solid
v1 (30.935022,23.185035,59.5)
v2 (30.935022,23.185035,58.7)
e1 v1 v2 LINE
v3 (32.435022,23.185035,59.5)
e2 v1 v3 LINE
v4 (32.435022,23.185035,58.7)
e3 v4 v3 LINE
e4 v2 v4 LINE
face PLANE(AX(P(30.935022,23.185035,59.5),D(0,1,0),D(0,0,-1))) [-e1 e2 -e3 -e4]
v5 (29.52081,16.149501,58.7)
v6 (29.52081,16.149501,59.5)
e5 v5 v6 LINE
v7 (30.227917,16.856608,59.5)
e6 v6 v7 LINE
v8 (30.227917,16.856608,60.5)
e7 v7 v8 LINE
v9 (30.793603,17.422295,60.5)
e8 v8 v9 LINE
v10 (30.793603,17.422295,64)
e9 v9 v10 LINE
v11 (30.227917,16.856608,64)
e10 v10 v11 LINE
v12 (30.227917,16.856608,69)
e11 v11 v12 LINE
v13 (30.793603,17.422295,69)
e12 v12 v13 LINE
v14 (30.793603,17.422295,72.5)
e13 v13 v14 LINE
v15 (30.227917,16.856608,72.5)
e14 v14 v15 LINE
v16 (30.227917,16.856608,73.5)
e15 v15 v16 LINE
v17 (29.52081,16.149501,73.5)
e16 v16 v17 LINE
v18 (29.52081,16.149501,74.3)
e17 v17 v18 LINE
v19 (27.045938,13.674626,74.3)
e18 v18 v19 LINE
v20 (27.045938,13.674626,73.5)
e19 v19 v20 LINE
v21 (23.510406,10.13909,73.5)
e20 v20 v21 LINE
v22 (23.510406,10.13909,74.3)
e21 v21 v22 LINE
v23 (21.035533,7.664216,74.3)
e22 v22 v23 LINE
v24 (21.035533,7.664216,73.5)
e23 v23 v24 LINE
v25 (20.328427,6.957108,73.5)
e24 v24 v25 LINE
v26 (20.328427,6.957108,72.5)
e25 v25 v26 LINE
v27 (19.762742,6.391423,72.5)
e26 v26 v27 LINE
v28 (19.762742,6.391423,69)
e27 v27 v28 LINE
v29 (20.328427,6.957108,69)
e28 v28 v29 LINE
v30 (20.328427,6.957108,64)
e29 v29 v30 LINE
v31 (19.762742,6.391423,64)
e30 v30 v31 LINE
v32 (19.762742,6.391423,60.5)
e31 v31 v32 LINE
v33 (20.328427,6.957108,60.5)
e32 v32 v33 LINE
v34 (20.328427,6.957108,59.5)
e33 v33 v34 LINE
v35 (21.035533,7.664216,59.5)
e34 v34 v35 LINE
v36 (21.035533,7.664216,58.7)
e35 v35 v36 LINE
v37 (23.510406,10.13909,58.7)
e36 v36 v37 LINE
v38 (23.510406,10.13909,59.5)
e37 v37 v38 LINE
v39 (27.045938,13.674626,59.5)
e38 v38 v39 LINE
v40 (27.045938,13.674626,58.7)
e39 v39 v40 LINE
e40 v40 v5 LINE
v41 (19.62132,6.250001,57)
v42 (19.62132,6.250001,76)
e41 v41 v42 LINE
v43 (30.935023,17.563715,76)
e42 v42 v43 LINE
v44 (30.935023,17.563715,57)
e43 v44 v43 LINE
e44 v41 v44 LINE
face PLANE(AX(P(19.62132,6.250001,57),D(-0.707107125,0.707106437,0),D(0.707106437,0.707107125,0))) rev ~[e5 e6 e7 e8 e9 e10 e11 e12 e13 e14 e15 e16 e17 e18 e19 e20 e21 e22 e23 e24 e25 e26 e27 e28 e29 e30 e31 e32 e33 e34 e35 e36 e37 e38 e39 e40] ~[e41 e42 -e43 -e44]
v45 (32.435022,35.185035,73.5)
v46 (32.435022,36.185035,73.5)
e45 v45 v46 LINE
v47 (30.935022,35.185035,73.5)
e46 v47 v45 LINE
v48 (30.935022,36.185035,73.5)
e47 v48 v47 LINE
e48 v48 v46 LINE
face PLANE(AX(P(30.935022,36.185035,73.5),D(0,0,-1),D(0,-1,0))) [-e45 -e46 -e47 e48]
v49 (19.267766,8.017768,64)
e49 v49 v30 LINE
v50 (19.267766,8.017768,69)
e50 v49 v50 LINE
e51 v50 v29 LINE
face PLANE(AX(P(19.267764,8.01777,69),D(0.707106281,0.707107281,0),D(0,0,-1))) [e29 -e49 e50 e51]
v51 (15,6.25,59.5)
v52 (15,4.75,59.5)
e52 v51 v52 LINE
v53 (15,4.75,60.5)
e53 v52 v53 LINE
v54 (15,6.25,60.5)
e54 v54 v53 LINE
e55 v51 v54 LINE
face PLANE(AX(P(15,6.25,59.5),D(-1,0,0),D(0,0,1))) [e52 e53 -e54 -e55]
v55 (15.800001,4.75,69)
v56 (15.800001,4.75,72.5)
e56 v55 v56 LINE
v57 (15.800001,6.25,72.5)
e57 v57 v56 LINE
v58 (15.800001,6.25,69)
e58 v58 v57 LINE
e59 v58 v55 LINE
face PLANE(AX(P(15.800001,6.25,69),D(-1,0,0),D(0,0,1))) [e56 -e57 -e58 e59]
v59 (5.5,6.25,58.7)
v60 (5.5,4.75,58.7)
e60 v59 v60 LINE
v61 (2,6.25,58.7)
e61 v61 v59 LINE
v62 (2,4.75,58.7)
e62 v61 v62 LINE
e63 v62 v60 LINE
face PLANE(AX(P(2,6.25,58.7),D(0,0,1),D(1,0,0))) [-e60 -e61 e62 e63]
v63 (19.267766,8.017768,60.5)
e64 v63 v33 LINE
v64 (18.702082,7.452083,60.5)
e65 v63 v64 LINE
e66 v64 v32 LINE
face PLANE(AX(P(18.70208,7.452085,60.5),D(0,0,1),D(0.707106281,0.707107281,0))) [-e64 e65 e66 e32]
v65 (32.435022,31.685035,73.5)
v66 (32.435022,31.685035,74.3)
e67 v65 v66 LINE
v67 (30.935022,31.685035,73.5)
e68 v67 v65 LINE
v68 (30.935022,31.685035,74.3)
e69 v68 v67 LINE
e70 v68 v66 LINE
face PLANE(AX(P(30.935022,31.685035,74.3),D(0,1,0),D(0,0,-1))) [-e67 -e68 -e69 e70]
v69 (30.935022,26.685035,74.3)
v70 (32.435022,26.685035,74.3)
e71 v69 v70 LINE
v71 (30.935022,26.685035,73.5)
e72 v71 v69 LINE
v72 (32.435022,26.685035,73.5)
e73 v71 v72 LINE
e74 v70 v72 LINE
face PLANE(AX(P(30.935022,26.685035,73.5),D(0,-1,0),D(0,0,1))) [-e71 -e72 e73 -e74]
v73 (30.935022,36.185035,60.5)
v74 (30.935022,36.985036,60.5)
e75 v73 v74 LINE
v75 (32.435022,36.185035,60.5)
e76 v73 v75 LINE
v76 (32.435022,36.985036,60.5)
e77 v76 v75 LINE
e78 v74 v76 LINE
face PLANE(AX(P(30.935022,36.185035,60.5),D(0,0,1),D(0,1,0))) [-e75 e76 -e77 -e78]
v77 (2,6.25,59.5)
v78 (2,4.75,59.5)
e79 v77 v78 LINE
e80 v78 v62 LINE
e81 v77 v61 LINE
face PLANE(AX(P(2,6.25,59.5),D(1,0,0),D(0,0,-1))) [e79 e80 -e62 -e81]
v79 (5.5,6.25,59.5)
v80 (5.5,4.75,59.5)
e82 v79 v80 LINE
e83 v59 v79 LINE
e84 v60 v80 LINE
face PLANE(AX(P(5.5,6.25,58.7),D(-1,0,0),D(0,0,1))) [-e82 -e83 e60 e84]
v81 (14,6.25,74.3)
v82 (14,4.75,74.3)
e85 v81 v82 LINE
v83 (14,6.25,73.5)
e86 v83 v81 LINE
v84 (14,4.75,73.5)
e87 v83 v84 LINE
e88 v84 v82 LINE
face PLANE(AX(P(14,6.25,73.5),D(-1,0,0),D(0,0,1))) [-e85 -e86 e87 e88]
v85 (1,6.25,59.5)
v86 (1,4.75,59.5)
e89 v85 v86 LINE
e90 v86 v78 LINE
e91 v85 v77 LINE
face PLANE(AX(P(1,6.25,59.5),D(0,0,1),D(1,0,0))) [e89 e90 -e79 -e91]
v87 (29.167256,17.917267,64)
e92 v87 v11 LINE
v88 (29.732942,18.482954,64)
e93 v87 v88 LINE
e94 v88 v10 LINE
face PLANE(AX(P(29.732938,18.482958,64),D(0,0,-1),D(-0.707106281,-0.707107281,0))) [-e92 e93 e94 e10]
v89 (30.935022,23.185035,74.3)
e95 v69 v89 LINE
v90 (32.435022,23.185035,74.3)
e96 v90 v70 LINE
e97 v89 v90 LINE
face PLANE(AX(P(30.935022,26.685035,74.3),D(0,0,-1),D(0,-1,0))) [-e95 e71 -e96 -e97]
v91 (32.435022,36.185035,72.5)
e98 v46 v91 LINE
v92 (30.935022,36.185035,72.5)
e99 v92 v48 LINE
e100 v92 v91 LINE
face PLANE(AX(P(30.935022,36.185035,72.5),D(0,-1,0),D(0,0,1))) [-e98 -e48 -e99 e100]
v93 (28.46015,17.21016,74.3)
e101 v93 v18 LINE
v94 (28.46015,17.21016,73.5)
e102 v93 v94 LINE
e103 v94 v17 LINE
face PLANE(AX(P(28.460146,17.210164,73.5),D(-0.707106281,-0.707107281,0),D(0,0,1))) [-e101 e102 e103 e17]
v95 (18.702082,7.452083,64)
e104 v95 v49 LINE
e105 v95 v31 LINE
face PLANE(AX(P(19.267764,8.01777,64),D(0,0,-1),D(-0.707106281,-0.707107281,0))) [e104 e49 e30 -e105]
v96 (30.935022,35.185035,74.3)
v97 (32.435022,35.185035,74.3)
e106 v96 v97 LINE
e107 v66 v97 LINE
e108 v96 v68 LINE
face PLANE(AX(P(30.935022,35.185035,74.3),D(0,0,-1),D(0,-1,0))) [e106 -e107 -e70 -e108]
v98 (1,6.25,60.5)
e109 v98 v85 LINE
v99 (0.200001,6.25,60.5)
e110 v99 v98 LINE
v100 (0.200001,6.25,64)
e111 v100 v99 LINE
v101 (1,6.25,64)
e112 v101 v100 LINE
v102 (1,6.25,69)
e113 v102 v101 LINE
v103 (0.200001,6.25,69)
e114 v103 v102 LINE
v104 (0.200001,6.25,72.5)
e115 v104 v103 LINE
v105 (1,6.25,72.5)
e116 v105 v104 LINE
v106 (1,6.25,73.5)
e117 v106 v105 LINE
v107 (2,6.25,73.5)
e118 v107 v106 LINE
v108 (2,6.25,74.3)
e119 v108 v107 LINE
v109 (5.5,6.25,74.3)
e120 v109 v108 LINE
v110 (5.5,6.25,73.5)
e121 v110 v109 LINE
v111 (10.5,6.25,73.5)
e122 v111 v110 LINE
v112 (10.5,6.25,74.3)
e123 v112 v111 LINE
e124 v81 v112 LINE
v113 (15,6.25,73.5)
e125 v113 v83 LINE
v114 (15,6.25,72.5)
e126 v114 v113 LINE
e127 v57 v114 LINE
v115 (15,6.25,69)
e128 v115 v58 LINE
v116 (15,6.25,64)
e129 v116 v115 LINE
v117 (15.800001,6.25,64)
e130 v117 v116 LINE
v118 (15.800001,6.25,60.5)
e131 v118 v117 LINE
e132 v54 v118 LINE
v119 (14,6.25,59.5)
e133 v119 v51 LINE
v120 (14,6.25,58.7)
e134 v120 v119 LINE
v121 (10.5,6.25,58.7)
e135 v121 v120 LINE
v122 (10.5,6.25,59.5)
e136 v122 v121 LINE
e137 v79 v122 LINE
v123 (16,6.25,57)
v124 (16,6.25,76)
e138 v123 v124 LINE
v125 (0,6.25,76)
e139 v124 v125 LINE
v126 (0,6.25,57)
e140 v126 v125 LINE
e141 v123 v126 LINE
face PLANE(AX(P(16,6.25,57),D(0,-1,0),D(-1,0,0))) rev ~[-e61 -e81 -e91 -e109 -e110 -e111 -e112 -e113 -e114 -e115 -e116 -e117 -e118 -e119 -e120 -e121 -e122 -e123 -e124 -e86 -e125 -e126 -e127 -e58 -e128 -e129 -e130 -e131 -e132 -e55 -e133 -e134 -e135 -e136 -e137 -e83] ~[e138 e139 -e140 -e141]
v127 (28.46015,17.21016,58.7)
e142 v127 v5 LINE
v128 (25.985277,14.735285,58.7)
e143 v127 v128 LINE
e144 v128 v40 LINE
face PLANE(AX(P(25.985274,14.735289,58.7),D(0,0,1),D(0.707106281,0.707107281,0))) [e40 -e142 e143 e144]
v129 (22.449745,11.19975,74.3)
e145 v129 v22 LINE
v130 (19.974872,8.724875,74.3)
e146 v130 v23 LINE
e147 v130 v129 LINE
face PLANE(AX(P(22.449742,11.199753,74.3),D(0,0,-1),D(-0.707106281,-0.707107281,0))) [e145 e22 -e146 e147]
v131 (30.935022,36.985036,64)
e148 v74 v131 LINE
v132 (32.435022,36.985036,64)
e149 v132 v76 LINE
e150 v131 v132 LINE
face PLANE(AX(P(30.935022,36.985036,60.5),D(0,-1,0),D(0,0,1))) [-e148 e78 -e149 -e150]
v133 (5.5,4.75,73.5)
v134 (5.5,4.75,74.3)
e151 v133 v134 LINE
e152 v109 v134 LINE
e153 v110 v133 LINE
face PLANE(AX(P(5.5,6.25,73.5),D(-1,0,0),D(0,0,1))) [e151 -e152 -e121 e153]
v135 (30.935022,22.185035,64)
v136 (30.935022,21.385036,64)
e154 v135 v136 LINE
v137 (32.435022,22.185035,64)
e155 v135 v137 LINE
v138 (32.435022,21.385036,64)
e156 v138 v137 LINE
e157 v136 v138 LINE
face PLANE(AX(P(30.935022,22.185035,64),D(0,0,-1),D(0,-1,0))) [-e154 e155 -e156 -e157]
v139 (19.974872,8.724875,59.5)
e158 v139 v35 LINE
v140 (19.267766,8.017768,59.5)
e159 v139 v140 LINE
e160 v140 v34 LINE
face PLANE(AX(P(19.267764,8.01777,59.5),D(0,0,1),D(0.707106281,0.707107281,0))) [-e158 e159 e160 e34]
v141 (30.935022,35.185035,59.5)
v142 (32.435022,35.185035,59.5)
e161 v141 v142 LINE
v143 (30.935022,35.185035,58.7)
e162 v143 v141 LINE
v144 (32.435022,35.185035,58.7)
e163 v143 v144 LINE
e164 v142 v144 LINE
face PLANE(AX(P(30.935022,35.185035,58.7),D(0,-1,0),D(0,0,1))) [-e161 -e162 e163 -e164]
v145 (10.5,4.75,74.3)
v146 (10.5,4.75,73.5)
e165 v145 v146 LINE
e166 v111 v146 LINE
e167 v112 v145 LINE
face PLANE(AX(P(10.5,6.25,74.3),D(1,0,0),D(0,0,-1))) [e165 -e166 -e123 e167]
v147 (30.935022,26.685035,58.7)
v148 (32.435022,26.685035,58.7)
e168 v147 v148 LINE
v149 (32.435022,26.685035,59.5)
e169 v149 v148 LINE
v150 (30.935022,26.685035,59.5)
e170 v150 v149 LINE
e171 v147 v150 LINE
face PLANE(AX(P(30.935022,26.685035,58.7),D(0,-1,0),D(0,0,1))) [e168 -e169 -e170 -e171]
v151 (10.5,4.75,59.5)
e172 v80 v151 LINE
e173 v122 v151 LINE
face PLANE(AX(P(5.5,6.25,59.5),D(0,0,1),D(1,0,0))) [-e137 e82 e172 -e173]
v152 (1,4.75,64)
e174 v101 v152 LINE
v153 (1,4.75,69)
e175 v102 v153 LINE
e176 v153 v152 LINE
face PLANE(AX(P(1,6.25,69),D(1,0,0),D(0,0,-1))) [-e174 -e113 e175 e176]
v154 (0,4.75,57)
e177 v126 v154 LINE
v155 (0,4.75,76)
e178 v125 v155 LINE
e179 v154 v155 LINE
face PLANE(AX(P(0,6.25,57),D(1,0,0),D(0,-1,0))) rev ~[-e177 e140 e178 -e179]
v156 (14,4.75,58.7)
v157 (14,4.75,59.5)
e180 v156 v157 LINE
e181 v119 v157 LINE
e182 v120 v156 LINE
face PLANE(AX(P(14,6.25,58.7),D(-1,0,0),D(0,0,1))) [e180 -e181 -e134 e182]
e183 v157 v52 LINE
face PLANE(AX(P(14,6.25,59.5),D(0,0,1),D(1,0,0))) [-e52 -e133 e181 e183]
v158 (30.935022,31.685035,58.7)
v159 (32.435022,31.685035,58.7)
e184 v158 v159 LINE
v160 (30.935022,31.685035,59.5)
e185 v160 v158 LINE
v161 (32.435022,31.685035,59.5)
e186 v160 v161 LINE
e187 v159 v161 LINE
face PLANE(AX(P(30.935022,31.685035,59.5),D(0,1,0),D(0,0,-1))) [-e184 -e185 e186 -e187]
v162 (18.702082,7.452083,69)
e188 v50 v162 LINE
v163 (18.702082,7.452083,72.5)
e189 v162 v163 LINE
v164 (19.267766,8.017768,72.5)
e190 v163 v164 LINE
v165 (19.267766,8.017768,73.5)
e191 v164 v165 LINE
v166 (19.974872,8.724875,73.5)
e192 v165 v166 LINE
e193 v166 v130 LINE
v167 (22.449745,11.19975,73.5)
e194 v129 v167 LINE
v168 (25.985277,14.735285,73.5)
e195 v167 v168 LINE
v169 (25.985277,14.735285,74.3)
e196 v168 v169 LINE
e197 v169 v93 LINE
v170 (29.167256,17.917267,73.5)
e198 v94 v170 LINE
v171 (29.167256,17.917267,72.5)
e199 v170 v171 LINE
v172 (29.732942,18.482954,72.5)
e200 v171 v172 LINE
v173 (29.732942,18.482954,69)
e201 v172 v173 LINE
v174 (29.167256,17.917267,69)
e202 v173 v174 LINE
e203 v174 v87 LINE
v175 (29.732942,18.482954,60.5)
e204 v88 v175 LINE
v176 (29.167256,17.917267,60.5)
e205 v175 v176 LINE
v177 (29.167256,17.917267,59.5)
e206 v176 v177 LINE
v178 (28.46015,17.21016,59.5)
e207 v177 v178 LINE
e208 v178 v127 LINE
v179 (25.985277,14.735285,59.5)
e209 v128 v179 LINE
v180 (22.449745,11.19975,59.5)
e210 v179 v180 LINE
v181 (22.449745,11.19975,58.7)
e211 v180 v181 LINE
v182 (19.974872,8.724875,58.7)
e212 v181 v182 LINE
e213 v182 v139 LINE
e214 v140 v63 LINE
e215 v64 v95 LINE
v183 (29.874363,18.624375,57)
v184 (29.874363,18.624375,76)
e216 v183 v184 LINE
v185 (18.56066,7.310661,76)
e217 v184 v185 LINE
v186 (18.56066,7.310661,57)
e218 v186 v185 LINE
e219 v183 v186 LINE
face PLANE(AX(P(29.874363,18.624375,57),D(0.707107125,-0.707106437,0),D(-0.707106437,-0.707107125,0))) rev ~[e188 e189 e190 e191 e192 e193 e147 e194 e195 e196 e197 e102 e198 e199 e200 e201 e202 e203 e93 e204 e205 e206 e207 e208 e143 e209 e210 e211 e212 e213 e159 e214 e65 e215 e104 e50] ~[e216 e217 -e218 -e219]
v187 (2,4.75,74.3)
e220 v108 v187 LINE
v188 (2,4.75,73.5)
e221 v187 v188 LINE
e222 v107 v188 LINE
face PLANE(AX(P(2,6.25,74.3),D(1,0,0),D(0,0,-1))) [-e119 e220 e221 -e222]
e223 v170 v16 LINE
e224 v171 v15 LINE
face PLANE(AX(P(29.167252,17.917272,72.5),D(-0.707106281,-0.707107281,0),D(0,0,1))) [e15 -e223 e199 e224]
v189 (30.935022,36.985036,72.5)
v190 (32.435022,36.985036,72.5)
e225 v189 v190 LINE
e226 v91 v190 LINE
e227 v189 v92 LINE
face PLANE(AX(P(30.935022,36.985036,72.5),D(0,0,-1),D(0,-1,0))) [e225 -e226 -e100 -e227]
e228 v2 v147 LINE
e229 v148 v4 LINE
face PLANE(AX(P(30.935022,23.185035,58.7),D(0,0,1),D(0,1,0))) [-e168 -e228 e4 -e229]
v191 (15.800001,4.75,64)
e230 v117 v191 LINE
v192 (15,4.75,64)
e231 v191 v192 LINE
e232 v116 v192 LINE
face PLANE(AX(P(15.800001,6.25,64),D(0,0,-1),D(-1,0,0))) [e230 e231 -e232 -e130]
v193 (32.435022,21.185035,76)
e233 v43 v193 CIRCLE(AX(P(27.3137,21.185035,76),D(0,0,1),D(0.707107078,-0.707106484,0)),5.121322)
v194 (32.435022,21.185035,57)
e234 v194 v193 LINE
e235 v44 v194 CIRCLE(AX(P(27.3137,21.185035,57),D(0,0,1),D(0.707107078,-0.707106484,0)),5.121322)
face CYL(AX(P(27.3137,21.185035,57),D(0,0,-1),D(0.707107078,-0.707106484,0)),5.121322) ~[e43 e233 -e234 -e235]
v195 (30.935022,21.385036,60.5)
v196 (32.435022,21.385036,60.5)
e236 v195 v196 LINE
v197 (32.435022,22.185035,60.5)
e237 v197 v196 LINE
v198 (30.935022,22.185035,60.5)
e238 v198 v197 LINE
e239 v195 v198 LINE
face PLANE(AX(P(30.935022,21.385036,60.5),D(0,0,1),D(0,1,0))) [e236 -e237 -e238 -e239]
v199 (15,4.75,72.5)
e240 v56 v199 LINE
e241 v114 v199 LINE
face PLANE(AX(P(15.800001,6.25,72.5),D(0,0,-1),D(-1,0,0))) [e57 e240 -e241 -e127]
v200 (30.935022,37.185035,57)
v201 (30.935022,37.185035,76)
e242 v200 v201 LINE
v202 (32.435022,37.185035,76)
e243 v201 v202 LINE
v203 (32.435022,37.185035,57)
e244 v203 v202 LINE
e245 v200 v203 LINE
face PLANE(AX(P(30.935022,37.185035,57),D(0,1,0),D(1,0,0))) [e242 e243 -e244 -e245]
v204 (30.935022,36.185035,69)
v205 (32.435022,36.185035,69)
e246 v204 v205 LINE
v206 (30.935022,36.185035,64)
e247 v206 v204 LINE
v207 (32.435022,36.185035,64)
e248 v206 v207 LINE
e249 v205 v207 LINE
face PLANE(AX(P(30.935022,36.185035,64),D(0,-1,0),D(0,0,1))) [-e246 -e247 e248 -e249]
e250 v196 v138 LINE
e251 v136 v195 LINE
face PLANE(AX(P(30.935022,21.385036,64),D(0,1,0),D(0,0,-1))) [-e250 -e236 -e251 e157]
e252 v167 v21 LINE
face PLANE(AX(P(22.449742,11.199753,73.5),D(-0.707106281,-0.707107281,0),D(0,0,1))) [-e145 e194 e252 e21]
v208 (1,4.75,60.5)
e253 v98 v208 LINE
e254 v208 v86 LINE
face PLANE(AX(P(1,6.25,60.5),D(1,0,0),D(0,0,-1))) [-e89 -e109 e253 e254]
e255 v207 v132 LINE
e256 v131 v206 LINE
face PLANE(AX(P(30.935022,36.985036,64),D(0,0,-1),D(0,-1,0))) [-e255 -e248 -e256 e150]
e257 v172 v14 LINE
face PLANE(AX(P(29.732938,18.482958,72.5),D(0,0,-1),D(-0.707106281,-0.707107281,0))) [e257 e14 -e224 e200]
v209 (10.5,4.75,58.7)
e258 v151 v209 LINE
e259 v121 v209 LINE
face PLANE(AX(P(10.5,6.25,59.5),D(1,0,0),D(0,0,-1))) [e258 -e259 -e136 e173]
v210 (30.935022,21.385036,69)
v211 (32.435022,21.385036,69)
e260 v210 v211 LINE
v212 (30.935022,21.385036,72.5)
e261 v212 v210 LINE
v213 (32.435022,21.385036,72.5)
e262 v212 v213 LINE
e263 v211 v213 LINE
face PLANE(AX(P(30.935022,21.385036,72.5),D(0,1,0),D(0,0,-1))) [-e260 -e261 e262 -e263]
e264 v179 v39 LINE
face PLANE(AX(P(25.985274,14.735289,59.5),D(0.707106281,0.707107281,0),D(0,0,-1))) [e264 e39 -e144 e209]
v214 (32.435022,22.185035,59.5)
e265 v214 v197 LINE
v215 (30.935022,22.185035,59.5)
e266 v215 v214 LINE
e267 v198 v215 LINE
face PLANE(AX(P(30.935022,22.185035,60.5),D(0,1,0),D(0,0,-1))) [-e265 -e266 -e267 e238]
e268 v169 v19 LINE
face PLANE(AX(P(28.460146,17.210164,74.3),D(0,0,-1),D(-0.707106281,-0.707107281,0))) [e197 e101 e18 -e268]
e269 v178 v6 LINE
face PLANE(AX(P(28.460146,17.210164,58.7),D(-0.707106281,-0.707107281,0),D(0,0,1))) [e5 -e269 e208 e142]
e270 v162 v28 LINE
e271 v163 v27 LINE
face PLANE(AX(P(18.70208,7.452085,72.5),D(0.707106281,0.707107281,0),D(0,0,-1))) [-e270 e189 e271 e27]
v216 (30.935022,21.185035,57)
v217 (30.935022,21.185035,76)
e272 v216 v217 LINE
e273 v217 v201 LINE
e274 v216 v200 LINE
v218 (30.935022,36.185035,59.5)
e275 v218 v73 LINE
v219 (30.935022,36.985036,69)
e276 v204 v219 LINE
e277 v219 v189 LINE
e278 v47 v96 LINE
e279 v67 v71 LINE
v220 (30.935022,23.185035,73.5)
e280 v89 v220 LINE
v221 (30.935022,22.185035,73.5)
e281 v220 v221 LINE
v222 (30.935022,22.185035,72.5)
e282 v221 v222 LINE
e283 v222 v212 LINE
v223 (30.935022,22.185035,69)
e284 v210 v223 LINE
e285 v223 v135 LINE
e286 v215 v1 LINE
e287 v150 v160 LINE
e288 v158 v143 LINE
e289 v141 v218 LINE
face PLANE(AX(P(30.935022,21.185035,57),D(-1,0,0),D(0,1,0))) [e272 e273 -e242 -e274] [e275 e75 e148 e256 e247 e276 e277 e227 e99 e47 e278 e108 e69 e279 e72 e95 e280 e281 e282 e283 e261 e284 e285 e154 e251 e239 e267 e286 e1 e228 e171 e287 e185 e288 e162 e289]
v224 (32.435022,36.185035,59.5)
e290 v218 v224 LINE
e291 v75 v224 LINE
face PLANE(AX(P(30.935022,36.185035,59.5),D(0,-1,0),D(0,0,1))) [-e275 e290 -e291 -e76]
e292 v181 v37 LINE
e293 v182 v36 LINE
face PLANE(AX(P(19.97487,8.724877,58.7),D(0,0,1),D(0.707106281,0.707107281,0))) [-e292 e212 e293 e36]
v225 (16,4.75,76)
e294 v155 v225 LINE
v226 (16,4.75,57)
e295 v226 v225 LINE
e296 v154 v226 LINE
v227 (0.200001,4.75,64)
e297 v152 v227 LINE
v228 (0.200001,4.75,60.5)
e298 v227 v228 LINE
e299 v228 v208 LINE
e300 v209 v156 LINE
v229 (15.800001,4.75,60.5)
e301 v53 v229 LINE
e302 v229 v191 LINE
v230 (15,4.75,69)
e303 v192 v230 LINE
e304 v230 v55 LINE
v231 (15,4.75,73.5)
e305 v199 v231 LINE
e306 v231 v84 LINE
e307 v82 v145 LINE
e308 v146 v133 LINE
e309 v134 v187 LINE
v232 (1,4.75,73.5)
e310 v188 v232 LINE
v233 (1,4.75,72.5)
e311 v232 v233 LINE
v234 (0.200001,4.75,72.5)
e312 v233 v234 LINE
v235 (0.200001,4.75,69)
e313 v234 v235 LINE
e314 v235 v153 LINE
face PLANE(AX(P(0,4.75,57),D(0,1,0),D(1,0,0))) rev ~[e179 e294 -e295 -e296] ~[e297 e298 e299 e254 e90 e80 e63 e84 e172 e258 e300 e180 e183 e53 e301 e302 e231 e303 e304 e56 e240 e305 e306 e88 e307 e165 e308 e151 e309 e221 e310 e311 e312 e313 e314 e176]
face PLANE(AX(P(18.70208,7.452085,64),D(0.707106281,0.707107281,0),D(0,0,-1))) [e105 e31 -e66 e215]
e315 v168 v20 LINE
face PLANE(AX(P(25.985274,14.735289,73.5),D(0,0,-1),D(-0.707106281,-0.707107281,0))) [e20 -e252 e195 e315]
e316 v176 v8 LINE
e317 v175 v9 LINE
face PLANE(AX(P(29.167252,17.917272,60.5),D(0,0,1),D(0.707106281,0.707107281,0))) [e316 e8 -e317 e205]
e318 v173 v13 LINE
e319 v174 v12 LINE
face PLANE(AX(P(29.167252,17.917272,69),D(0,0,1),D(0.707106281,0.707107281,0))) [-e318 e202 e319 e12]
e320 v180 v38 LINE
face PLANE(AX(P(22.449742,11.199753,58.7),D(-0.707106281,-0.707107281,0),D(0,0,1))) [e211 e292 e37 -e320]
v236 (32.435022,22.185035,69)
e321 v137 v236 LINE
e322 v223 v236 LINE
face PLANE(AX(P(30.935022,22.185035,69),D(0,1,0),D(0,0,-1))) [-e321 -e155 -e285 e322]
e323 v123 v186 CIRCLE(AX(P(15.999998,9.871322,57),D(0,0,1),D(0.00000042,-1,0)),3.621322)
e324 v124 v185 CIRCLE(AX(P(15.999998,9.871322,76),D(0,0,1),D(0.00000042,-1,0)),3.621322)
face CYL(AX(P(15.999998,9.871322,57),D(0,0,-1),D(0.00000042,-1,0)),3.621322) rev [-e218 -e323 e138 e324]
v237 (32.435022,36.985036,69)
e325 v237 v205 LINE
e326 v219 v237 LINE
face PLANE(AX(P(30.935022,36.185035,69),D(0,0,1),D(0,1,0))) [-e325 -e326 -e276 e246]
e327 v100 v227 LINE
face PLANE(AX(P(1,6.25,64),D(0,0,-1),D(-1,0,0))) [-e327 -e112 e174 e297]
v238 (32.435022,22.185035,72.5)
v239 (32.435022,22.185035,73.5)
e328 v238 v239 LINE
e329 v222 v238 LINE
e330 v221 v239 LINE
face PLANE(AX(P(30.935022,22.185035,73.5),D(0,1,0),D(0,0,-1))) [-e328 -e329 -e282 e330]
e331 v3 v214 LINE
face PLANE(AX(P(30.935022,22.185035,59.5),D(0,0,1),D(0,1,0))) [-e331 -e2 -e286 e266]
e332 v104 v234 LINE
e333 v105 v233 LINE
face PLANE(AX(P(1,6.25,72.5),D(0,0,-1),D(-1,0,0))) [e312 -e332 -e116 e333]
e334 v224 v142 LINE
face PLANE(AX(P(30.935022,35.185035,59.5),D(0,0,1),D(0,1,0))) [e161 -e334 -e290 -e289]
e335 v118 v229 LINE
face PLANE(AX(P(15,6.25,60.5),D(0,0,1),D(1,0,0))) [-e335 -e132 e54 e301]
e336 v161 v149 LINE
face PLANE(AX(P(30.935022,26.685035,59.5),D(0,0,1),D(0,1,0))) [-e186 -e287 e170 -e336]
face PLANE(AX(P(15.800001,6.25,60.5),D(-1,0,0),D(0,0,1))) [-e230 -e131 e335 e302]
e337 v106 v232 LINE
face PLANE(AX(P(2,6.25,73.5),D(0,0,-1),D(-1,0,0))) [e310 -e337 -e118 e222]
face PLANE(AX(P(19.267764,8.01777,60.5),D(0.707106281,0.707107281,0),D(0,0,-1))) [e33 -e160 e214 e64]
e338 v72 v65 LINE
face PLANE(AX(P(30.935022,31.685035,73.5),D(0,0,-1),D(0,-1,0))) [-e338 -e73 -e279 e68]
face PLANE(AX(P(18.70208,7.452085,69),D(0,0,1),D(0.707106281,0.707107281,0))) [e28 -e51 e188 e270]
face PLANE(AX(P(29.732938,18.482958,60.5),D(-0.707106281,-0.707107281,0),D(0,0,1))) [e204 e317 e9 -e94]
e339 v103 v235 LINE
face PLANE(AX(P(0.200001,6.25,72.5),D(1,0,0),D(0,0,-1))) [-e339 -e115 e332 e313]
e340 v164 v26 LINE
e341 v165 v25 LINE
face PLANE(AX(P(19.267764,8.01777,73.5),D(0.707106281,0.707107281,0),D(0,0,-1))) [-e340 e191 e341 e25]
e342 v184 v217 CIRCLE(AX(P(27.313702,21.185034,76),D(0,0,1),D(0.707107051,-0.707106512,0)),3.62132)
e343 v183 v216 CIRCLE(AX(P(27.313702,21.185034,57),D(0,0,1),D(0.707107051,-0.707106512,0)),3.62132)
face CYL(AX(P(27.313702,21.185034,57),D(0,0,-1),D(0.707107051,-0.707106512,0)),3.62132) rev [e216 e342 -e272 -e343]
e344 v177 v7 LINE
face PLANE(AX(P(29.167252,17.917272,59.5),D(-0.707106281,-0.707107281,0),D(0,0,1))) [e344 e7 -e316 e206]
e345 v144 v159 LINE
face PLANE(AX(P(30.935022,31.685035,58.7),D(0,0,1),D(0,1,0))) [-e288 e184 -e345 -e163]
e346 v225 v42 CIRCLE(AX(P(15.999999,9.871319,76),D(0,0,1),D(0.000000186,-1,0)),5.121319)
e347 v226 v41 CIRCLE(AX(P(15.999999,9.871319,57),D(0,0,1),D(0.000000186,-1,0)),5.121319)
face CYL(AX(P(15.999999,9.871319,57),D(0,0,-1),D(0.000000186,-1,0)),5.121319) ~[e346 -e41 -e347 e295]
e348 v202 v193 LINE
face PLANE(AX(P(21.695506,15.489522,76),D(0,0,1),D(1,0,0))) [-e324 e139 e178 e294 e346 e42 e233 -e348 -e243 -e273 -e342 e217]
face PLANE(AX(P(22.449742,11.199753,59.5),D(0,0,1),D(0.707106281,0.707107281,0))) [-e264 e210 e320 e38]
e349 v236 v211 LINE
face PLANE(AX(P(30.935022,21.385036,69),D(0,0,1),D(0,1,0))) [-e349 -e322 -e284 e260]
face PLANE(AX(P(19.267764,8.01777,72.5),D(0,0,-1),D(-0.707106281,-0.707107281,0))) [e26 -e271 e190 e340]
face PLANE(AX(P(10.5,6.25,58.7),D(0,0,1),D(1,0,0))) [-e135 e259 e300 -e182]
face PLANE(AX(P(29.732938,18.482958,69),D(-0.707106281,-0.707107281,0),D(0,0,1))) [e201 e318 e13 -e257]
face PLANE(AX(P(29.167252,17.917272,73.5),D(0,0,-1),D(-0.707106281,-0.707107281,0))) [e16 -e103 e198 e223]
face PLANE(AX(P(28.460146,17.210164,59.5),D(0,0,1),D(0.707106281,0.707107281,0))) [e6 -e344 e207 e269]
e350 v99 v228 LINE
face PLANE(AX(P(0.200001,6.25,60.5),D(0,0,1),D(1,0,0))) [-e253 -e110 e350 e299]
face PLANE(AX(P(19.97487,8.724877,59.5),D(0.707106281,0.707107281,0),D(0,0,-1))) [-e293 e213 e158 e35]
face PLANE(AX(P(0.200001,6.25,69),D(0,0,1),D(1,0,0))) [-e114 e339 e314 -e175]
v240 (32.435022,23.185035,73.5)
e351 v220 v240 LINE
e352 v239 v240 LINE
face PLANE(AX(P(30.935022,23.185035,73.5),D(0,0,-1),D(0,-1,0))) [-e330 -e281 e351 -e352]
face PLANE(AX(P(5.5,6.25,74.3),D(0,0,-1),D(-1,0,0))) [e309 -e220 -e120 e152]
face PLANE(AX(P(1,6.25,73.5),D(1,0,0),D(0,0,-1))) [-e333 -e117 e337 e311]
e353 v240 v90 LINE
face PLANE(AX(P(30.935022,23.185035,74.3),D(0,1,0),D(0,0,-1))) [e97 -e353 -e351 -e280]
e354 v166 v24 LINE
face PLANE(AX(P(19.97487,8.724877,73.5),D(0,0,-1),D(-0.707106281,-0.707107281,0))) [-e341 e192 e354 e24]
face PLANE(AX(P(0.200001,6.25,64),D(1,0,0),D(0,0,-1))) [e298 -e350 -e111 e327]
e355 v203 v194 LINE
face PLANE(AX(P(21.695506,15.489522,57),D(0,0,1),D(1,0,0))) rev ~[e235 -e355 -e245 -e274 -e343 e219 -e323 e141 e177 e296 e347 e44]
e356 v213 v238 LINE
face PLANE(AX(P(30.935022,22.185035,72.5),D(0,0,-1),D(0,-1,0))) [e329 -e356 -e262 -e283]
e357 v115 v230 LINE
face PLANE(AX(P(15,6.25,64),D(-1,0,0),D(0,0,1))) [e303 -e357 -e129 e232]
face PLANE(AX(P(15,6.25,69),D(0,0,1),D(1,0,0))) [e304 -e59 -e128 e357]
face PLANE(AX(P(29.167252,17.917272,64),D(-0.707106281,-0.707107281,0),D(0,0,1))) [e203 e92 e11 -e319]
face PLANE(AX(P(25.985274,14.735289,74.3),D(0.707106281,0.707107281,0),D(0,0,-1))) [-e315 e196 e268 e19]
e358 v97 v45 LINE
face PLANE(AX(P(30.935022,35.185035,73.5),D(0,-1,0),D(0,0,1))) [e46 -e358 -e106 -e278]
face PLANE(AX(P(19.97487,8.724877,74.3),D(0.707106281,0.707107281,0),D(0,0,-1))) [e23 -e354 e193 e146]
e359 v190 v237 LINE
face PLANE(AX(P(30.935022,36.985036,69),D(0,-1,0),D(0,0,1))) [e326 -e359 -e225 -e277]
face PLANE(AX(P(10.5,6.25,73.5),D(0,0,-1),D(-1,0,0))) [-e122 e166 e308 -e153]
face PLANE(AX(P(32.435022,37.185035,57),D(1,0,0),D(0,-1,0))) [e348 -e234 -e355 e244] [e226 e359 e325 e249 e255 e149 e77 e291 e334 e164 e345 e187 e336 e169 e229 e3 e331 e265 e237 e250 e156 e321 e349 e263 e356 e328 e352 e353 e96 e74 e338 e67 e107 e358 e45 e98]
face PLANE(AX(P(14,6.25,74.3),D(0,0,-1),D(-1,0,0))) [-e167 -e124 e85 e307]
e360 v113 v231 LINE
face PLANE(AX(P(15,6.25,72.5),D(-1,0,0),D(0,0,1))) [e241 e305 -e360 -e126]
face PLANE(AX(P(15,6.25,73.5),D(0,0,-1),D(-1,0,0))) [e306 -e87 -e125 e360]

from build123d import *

# Parameters (mm, degrees)
PAD_DEPTH       = 19
POCKET_DEPTH    = 11.62232
POCKET002_DEPTH = 1.501
POCKET003_DEPTH = 1.501


with BuildPart() as part:
    # Sketch → Pad (new body)
    with BuildSketch(Plane.XY):
        with BuildLine():
            Line((0, 0), (16, 0))
            ThreePointArc((16, 0), (17.959845, 0.389838), (19.62132, 1.500001))
            Line((19.62132, 1.500001), (30.935023, 12.813715))
            ThreePointArc((30.935023, 12.813715), (32.045185, 14.475191), (32.435022, 16.435035))
            Line((32.435022, 32.435035), (32.435022, 16.435035))
            Line((30.935022, 32.435035), (32.435022, 32.435035))
            Line((30.935022, 16.435035), (30.935022, 32.435035))
            ThreePointArc((29.874363, 13.874375), (30.659366, 15.049216), (30.935022, 16.435035))
            Line((29.874363, 13.874375), (18.56066, 2.560661))
            ThreePointArc((16, 1.5), (17.385819, 1.775657), (18.56066, 2.560661))
            Line((16, 1.5), (0, 1.5))
            Line((0, 1.5), (0, 0))
        make_face()
    extrude(amount=PAD_DEPTH)

    # Sketch004 → Pocket (cut, through all)
    with BuildSketch(Plane(origin=(8.000009, -8.000001, 0), x_dir=(-0.707106, -0.707107, 0), z_dir=(-0.707107, 0.707106, 0))):
        Polygon((-28.935023, 17.3), (-25.435023, 17.3), (-25.435023, 16.5), (-20.435023, 16.5), (-20.435023, 17.3), (-16.935023, 17.3), (-16.935023, 16.5), (-15.935023, 16.5), (-15.935023, 15.5), (-15.135024, 15.5), (-15.135024, 12), (-15.935023, 12), (-15.935023, 7), (-15.135024, 7), (-15.135024, 3.5), (-15.935023, 3.5), (-15.935023, 2.5), (-16.935023, 2.5), (-16.935023, 1.7), (-20.435023, 1.7), (-20.435023, 2.5), (-25.435023, 2.5), (-25.435023, 1.7), (-28.935023, 1.7), (-28.935023, 2.5), (-29.935023, 2.5), (-29.935023, 3.5), (-30.735024, 3.5), (-30.735024, 7), (-29.935023, 7), (-29.935023, 12), (-30.735024, 12), (-30.735024, 15.5), (-29.935023, 15.5), (-29.935023, 16.5), (-28.935023, 16.5), align=None)
    extrude(amount=-POCKET_DEPTH, mode=Mode.SUBTRACT)

    # Sketch004001 → Pocket002 (cut, through all)
    with BuildSketch(Plane(origin=(30.935022, 0, 0), x_dir=(0, -1, 0), z_dir=(-1, 0, 0))):
        Polygon((-30.435035, 17.3), (-26.935035, 17.3), (-26.935035, 16.5), (-21.935035, 16.5), (-21.935035, 17.3), (-18.435035, 17.3), (-18.435035, 16.5), (-17.435035, 16.5), (-17.435035, 15.5), (-16.635036, 15.5), (-16.635036, 12), (-17.435035, 12), (-17.435035, 7), (-16.635036, 7), (-16.635036, 3.5), (-17.435035, 3.5), (-17.435035, 2.5), (-18.435035, 2.5), (-18.435035, 1.7), (-21.935035, 1.7), (-21.935035, 2.5), (-26.935035, 2.5), (-26.935035, 1.7), (-30.435035, 1.7), (-30.435035, 2.5), (-31.435035, 2.5), (-31.435035, 3.5), (-32.235036, 3.5), (-32.235036, 7), (-31.435035, 7), (-31.435035, 12), (-32.235036, 12), (-32.235036, 15.5), (-31.435035, 15.5), (-31.435035, 16.5), (-30.435035, 16.5), align=None)
    extrude(amount=-POCKET002_DEPTH, mode=Mode.SUBTRACT)

    # Sketch004001001 → Pocket003 (cut, through all)
    with BuildSketch(Plane(origin=(0, 1.5, 0), x_dir=(-1, 0, 0), z_dir=(0, 1, 0))):
        Polygon((-14, 17.3), (-10.5, 17.3), (-10.5, 16.5), (-5.5, 16.5), (-5.5, 17.3), (-2, 17.3), (-2, 16.5), (-1, 16.5), (-1, 15.5), (-0.200001, 15.5), (-0.200001, 12), (-1, 12), (-1, 7), (-0.200001, 7), (-0.200001, 3.5), (-1, 3.5), (-1, 2.5), (-2, 2.5), (-2, 1.7), (-5.5, 1.7), (-5.5, 2.5), (-10.5, 2.5), (-10.5, 1.7), (-14, 1.7), (-14, 2.5), (-15, 2.5), (-15, 3.5), (-15.800001, 3.5), (-15.800001, 7), (-15, 7), (-15, 12), (-15.800001, 12), (-15.800001, 15.5), (-15, 15.5), (-15, 16.5), (-14, 16.5), align=None)
    extrude(amount=-POCKET003_DEPTH, mode=Mode.SUBTRACT)


with BuildPart() as part_1:
    # Clone placement: moved
    add(part.part.moved(Location((0, 2.38, 19))))


with BuildPart() as part_2:
    # Clone001 placement: moved
    add(part_1.part.moved(Location((0, 4.75, 19))))


with BuildPart() as part_3:
    # Clone002 placement: moved
    add(part_2.part.moved(Location((0, -2.38, 19))))


solid = part_3.part
